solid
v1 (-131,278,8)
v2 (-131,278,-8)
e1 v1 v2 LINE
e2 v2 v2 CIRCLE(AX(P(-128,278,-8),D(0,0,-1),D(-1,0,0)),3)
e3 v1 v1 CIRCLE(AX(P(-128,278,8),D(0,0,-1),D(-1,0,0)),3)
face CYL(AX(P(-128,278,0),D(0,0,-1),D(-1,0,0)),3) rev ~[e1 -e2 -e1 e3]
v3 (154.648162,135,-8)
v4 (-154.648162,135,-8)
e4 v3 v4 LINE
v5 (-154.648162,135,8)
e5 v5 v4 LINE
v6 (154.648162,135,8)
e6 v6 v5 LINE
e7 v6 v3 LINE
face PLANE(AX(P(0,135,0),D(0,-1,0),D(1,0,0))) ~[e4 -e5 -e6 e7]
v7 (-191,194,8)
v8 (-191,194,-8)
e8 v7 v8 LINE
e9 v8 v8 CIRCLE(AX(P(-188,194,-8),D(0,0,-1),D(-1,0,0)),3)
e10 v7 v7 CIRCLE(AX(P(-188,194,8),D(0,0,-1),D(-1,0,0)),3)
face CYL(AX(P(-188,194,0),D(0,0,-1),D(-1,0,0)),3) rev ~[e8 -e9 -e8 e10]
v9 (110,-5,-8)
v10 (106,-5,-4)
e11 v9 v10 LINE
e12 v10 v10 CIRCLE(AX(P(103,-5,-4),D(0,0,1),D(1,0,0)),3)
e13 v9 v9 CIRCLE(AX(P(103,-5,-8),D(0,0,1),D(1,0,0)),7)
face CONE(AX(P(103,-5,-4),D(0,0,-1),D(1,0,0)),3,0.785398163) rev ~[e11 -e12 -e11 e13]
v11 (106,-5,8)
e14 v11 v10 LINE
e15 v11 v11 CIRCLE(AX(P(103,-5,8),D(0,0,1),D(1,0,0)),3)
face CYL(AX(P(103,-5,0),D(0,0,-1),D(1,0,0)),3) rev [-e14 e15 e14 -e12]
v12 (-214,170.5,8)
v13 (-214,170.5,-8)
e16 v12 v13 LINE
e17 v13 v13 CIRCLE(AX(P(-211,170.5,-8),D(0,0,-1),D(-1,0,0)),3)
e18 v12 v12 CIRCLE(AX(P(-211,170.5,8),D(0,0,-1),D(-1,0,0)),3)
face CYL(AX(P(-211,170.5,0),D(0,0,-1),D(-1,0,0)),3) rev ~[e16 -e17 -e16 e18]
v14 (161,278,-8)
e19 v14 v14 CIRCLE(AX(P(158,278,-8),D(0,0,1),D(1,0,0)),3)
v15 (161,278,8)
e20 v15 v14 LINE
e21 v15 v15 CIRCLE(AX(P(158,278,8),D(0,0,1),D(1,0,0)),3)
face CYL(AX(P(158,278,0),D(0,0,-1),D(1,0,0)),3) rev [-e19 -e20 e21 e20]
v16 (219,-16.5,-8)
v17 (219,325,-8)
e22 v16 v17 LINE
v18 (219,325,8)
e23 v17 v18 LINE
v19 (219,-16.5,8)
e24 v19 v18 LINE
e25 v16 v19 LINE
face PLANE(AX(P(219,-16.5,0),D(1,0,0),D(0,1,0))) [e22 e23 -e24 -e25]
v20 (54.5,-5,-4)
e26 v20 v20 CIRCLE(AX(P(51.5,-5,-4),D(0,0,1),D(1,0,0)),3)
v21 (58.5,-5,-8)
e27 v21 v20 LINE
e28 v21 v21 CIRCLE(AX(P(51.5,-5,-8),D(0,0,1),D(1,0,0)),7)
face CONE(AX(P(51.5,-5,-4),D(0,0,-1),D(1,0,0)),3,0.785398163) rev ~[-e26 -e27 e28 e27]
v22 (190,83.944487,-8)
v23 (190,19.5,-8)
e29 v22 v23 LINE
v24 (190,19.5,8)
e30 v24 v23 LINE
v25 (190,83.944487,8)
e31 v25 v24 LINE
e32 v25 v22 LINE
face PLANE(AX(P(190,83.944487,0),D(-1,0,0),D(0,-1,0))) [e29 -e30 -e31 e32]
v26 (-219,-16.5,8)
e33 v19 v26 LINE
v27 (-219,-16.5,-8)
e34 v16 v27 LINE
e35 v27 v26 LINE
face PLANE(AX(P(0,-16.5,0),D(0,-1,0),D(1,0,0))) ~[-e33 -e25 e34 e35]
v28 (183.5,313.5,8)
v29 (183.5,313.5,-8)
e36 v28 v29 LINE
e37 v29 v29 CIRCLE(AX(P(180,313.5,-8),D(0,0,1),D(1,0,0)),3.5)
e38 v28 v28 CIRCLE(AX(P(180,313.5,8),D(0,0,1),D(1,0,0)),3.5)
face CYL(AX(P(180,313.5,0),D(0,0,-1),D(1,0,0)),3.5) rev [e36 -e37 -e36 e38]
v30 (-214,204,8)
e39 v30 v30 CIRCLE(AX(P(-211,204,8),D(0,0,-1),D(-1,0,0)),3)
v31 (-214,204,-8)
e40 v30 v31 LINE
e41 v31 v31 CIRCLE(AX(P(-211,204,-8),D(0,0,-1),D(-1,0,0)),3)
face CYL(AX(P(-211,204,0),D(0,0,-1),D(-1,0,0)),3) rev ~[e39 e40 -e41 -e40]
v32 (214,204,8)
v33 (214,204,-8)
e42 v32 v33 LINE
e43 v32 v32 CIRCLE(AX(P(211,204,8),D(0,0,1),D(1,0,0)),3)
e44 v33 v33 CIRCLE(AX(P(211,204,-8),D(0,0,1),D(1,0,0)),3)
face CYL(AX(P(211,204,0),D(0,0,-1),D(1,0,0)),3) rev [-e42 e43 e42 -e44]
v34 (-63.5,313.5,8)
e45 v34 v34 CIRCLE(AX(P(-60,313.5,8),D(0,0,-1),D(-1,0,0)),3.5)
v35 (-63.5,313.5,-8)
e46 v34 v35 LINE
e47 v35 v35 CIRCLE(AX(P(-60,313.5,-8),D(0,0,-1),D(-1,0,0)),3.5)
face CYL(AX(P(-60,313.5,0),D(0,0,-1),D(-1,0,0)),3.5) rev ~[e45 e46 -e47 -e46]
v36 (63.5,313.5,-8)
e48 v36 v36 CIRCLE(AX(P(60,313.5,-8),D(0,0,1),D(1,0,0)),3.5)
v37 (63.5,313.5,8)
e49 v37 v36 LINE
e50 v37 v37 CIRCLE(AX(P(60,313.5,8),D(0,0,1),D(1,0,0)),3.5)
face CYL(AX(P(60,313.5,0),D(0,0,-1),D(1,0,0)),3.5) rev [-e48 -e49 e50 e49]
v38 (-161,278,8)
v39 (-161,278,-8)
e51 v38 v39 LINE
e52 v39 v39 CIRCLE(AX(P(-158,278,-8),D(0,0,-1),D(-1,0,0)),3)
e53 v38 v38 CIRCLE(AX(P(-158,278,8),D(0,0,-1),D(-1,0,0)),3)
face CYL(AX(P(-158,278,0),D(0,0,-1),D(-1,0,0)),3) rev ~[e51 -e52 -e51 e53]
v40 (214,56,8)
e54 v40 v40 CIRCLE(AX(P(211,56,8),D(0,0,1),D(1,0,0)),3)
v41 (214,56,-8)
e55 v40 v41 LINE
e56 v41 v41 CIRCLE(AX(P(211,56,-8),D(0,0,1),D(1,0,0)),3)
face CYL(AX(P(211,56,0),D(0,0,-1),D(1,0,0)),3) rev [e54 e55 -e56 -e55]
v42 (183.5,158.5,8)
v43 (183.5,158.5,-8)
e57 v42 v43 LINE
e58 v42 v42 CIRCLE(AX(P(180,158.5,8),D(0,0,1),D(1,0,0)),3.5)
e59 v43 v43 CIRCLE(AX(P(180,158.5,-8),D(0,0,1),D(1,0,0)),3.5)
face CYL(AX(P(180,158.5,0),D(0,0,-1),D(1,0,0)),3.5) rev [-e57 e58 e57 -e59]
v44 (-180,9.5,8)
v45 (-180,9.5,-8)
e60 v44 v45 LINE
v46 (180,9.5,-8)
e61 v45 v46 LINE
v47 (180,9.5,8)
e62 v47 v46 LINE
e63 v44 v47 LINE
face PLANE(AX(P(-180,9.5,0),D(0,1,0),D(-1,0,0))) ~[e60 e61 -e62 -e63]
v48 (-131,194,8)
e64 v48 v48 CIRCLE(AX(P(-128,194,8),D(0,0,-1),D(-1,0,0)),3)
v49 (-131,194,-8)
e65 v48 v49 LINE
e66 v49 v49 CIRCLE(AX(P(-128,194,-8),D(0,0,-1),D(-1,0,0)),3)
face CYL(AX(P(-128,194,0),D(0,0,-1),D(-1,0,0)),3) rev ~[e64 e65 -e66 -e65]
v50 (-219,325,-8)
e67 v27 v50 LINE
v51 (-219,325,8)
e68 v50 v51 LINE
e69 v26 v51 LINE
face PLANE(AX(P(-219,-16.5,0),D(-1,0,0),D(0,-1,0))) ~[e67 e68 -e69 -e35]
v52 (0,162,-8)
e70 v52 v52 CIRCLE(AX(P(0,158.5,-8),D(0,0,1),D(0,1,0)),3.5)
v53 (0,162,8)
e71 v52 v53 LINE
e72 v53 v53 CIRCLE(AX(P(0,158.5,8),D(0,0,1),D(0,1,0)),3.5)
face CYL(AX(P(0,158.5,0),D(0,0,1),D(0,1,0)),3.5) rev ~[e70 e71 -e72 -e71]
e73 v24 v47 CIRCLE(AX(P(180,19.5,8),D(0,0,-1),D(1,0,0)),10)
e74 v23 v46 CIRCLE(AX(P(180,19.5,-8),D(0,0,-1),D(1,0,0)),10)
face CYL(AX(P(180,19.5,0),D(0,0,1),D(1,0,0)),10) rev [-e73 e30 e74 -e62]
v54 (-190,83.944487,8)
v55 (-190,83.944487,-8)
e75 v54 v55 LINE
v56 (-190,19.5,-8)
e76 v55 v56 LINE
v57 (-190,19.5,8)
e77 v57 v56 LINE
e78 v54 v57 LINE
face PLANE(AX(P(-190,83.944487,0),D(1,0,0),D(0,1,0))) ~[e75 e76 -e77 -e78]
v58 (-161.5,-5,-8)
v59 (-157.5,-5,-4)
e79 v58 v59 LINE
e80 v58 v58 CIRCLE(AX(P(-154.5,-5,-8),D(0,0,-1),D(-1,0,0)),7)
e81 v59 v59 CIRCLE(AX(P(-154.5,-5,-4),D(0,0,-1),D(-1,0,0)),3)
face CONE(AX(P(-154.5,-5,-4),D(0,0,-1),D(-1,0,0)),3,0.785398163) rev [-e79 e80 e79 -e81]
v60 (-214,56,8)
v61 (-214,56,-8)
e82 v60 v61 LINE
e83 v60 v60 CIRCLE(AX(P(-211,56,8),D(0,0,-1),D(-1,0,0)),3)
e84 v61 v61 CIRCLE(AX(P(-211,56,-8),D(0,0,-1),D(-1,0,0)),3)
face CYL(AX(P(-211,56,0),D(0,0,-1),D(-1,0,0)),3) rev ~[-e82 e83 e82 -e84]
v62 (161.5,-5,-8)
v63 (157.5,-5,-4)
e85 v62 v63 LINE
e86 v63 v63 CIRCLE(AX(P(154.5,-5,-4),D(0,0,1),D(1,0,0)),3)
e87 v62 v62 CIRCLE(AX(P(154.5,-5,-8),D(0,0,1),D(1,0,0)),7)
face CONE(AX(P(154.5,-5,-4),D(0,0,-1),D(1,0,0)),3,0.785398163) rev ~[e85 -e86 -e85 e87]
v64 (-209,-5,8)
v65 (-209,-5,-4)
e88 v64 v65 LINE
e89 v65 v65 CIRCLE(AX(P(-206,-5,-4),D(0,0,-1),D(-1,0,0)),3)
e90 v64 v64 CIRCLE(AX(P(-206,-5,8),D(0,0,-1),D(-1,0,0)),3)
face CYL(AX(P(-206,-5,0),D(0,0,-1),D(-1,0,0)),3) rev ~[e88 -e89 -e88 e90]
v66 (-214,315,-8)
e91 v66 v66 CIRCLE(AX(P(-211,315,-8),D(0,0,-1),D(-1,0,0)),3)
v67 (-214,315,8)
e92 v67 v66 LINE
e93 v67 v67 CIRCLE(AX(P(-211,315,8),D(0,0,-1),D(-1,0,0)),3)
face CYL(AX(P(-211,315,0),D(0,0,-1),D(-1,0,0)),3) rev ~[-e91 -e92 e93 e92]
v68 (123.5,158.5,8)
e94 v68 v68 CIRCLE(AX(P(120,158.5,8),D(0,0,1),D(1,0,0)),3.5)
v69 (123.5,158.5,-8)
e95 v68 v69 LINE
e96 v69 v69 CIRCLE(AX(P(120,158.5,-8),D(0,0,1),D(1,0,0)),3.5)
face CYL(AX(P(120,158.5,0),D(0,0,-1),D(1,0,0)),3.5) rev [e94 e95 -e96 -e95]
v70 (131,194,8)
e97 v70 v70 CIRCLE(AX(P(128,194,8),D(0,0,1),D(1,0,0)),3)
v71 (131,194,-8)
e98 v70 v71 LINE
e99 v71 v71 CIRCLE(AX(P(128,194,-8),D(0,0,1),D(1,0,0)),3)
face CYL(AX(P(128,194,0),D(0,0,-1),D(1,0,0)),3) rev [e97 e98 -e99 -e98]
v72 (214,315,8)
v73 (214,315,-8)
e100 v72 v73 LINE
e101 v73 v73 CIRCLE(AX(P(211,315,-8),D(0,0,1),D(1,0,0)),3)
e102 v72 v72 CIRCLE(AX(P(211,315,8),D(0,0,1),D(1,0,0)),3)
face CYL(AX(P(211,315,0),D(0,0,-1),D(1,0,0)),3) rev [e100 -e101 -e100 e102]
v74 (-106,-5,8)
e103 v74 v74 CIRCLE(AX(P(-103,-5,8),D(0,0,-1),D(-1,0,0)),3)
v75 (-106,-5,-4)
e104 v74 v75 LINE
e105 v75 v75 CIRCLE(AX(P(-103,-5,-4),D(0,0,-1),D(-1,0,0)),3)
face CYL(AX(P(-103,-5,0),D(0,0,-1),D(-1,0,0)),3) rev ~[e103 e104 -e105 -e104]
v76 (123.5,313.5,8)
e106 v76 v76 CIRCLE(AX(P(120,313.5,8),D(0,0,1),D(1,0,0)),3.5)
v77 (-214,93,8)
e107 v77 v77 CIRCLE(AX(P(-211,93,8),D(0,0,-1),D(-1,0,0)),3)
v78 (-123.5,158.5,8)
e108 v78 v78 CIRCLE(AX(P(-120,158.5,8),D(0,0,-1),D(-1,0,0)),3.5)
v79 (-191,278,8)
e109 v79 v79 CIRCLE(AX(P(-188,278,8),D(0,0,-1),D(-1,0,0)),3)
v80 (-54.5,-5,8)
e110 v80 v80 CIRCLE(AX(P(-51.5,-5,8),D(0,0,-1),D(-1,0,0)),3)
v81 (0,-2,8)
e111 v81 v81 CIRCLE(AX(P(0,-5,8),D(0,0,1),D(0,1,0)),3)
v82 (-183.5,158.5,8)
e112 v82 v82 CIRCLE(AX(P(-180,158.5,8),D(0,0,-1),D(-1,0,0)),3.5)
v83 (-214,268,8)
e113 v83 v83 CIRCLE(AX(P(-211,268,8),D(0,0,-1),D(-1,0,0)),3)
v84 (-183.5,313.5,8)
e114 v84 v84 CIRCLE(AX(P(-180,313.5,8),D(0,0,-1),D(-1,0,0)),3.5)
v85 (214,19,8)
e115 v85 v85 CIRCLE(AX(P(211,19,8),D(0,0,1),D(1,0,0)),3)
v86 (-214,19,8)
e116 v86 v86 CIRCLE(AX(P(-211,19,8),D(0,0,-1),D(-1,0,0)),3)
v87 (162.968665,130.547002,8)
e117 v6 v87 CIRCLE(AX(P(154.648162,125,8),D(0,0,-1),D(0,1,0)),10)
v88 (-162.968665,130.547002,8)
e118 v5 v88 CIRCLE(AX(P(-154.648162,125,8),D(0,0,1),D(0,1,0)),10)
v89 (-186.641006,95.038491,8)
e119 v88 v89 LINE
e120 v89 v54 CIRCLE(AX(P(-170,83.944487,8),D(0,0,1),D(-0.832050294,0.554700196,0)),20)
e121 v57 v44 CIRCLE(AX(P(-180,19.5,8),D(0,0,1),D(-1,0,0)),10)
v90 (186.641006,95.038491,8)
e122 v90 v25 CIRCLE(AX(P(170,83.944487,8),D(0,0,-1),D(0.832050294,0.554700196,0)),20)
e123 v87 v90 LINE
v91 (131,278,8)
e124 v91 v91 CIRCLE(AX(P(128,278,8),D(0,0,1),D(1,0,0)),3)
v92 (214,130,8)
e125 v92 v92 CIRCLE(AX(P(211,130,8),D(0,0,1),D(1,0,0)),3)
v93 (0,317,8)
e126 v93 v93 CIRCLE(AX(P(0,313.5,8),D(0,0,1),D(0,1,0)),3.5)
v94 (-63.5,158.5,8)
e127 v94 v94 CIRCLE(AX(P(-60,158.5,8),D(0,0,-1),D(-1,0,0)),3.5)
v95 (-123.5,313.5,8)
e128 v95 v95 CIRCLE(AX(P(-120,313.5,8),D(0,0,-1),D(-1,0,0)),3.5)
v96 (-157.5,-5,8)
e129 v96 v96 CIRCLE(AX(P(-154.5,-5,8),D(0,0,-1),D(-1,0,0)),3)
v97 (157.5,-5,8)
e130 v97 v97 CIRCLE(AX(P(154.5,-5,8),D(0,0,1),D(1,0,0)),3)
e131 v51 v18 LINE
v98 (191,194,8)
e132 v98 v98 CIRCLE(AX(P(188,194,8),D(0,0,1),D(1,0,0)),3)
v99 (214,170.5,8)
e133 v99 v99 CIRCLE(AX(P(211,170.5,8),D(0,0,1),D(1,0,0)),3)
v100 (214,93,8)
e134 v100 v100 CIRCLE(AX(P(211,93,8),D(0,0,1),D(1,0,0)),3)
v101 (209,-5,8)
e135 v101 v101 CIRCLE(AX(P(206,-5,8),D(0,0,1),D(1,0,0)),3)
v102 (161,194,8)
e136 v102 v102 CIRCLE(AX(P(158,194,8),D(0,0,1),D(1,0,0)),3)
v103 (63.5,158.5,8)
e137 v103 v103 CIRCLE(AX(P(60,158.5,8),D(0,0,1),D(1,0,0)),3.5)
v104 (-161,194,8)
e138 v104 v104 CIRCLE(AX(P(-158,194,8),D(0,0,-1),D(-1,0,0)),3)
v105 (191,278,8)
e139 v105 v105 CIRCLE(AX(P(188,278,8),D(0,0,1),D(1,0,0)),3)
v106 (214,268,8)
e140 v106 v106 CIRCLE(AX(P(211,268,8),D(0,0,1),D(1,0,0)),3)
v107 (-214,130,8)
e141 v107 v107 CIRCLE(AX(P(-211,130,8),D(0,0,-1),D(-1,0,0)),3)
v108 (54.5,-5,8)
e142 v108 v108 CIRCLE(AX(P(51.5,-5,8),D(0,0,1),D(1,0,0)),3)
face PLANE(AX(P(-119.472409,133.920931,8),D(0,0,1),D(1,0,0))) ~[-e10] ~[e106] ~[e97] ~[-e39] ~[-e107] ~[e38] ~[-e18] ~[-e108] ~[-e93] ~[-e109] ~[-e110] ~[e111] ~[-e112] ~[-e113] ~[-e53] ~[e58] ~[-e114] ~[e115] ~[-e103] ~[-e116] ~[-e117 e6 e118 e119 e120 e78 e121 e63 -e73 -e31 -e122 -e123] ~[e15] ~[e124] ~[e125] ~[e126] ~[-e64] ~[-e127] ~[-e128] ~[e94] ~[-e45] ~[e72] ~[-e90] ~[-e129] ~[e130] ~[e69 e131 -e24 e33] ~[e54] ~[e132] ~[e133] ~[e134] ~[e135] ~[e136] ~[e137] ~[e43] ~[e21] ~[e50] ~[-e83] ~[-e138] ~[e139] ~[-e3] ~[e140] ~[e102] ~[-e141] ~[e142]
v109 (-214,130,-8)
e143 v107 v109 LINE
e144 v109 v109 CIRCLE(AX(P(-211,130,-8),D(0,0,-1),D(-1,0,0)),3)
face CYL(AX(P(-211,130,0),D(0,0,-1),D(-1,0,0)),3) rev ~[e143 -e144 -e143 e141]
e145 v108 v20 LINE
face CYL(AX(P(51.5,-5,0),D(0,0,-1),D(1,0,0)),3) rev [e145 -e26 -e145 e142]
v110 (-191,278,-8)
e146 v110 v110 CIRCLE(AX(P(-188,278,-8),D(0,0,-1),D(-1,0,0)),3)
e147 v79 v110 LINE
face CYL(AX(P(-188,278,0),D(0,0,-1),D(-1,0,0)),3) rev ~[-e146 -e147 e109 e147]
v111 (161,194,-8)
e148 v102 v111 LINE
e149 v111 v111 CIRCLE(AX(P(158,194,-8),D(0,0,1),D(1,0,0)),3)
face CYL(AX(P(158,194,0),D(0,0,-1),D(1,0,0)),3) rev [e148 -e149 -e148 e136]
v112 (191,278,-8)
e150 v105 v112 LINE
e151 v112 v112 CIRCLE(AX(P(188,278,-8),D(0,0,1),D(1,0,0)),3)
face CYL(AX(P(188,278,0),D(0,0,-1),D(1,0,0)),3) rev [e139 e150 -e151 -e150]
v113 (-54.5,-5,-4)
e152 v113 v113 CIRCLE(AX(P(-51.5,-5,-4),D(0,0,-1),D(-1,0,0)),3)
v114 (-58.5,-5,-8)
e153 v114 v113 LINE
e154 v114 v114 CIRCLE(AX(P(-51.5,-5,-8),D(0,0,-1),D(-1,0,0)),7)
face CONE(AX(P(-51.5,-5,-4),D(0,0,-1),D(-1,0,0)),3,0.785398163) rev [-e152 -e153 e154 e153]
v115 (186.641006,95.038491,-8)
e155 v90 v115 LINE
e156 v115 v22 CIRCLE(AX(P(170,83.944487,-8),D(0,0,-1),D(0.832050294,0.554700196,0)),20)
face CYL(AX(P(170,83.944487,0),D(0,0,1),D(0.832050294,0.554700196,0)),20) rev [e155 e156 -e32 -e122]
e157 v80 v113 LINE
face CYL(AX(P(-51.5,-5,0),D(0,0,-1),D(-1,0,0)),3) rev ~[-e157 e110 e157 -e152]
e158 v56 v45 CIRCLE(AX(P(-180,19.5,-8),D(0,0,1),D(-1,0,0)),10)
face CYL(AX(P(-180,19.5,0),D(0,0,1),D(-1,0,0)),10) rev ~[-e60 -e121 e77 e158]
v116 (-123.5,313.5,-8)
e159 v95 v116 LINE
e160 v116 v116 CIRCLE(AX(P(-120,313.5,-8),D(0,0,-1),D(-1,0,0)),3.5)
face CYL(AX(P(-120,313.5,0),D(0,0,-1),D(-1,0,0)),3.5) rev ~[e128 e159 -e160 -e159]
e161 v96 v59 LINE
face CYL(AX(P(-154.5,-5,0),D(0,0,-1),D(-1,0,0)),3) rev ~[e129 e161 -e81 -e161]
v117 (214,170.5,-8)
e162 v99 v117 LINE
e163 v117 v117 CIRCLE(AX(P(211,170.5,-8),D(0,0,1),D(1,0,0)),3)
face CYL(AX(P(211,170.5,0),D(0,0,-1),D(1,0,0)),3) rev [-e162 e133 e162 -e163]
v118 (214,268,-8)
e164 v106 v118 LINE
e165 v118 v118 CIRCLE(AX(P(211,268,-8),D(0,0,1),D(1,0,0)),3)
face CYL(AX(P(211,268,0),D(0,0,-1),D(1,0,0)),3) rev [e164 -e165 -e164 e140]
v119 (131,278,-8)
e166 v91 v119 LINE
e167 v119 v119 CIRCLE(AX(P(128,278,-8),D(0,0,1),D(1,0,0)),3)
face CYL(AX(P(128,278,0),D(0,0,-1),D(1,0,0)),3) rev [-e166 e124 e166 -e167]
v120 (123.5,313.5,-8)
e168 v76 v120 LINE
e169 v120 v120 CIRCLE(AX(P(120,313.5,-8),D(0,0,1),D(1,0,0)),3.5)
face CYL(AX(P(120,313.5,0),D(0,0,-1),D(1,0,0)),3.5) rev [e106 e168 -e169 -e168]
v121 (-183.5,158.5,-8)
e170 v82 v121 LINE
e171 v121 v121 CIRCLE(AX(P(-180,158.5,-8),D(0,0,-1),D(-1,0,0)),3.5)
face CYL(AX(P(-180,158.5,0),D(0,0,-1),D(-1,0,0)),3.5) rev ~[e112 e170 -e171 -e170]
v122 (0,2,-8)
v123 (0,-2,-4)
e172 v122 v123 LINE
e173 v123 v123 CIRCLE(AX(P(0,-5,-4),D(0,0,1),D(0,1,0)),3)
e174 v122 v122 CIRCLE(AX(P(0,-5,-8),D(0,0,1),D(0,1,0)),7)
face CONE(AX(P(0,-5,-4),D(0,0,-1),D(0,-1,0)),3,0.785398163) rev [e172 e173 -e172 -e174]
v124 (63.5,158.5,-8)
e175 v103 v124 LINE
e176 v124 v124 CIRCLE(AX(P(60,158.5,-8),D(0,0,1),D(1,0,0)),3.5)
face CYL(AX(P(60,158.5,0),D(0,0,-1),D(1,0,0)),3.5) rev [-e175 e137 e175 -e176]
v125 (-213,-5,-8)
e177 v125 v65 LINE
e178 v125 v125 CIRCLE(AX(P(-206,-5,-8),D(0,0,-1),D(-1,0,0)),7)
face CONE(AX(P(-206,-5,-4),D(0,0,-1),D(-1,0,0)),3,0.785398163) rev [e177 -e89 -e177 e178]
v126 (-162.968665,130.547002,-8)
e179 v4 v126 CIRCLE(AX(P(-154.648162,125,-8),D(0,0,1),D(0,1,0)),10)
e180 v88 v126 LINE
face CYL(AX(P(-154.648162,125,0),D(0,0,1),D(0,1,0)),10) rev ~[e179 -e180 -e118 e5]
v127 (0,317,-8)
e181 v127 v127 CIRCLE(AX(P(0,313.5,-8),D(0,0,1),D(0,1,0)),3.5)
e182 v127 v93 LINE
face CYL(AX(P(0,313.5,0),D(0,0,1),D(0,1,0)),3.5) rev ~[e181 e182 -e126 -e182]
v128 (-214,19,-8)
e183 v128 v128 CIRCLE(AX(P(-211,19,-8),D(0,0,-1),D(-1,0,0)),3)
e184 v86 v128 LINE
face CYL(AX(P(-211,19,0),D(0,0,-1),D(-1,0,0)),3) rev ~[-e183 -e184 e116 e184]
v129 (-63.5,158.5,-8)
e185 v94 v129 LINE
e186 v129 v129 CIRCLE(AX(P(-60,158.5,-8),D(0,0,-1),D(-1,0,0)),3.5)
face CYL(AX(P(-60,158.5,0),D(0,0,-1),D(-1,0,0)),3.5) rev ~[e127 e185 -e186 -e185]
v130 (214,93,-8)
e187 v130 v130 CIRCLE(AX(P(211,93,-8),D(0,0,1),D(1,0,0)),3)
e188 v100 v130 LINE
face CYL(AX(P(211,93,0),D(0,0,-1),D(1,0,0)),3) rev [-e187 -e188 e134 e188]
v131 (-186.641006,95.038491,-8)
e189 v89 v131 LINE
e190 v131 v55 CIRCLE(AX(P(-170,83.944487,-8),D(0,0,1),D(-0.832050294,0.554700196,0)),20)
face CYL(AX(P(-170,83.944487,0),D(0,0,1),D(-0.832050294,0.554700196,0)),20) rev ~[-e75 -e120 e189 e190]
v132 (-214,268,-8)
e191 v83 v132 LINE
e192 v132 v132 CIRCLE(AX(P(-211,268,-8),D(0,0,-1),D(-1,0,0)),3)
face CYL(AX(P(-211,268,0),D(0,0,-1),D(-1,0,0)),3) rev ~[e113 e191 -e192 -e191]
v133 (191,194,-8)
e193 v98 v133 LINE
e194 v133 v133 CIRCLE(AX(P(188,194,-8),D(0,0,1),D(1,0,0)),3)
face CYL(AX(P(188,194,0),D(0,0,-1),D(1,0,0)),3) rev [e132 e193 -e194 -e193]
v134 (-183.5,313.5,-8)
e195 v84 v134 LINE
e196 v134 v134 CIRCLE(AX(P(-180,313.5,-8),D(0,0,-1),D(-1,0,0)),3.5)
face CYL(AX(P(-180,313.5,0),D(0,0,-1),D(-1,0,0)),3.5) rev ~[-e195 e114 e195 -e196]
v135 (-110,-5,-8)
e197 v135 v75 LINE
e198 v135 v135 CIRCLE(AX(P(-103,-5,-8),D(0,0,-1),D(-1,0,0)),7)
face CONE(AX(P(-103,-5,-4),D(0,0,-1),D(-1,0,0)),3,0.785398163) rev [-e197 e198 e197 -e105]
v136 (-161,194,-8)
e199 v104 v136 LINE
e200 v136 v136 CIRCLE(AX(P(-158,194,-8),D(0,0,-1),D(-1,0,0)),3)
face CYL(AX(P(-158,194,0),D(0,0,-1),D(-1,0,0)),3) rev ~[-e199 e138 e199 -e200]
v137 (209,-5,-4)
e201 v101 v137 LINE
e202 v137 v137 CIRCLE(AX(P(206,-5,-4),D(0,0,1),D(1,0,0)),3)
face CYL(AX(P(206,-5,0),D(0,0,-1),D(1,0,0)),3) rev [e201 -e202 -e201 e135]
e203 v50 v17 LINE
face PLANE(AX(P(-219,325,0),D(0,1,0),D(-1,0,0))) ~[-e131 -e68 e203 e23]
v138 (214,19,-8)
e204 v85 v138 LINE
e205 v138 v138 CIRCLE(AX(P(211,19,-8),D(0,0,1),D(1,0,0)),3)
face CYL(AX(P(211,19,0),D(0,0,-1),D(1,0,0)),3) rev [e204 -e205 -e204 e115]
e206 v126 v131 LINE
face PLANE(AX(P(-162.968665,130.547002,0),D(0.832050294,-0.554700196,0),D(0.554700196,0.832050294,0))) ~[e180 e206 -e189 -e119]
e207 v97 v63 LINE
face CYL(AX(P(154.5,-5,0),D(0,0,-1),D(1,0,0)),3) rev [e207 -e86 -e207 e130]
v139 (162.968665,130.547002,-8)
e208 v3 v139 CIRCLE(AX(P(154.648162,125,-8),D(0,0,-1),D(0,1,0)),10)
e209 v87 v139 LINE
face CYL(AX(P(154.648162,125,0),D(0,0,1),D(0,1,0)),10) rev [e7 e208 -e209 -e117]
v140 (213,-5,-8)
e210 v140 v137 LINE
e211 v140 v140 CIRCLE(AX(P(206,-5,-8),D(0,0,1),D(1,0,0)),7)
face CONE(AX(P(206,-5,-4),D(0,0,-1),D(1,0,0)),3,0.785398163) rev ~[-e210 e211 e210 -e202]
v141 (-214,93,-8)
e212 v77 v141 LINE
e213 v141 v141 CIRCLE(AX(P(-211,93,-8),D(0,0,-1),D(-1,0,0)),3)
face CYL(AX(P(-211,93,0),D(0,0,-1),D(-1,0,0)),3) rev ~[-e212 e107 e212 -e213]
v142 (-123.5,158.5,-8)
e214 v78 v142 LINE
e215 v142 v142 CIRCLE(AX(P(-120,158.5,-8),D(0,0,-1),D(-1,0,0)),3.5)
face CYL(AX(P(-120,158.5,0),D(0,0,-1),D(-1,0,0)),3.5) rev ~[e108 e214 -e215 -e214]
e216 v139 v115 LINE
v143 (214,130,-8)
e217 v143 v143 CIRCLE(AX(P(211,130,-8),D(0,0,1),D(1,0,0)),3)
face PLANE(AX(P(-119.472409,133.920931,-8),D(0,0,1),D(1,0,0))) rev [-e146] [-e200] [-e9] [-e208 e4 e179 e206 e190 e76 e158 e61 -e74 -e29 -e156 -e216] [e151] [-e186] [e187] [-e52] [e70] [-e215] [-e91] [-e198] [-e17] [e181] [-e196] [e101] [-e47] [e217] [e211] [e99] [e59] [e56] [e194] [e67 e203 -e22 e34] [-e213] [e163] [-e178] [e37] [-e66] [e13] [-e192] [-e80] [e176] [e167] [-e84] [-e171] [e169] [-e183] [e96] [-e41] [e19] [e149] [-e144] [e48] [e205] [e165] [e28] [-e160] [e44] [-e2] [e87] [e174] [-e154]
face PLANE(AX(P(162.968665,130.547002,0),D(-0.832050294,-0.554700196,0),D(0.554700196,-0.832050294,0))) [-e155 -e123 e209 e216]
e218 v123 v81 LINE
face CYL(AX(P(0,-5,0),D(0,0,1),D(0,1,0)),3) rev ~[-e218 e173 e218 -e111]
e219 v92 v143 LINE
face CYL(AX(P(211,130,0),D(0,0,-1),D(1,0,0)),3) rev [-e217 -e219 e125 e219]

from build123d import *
from build123d.topology import SkipClean

# Parameters (mm, degrees)
ESQUISSE1_R        = 3
ESQUISSE1_R_2      = 3.5
BOSS_EXTRU_1_DEPTH = 8
CHANFREIN1_SIZE    = 4


with BuildPart() as part:
    # Esquisse1 → Boss.-Extru.1 (new body, symmetric)
    with BuildSketch(Plane.XY):
        with BuildLine():
            Line((0, 9.5), (0, -2))
            ThreePointArc((0, -2), (3, -5), (0, -8))
            Line((0, -8), (0, -16.5))
            Line((0, -16.5), (219, -16.5))
            Line((219, -16.5), (219, 325))
            Line((219, 325), (0, 325))
            Line((0, 325), (0, 317))
            ThreePointArc((0, 317), (3.5, 313.5), (0, 310))
            Line((0, 310), (0, 162))
            ThreePointArc((0, 162), (3.5, 158.5), (0, 155))
            Line((0, 155), (0, 135))
            Line((0, 135), (154.64816242, 135))
            ThreePointArc((154.64816242, 135), (159.366741675, 133.816745988), (162.968665363, 130.547001962))
            Line((162.968665363, 130.547001962), (186.641005887, 95.03849117))
            ThreePointArc((186.641005887, 95.03849117), (189.14184053, 89.740170219), (190, 83.944487245))
            Line((190, 83.944487245), (190, 19.5))
            ThreePointArc((190, 19.5), (187.071067812, 12.428932188), (180, 9.5))
            Line((180, 9.5), (0, 9.5))
        make_face()
        with Locations((188, 278)):
            Circle(ESQUISSE1_R, mode=Mode.SUBTRACT)
        with Locations((158, 278)):
            Circle(ESQUISSE1_R, mode=Mode.SUBTRACT)
        with Locations((128, 278)):
            Circle(ESQUISSE1_R, mode=Mode.SUBTRACT)
        with Locations((51.5, -5)):
            Circle(ESQUISSE1_R, mode=Mode.SUBTRACT)
        with Locations((103, -5)):
            Circle(ESQUISSE1_R, mode=Mode.SUBTRACT)
        with Locations((154.5, -5)):
            Circle(ESQUISSE1_R, mode=Mode.SUBTRACT)
        with Locations((206, -5)):
            Circle(ESQUISSE1_R, mode=Mode.SUBTRACT)
        with Locations((128, 194)):
            Circle(ESQUISSE1_R, mode=Mode.SUBTRACT)
        with Locations((158, 194)):
            Circle(ESQUISSE1_R, mode=Mode.SUBTRACT)
        with Locations((188, 194)):
            Circle(ESQUISSE1_R, mode=Mode.SUBTRACT)
        with Locations((211, 268)):
            Circle(ESQUISSE1_R, mode=Mode.SUBTRACT)
        with Locations((211, 130)):
            Circle(ESQUISSE1_R, mode=Mode.SUBTRACT)
        with Locations((211, 93)):
            Circle(ESQUISSE1_R, mode=Mode.SUBTRACT)
        with Locations((211, 170.5)):
            Circle(ESQUISSE1_R, mode=Mode.SUBTRACT)
        with Locations((211, 315)):
            Circle(ESQUISSE1_R, mode=Mode.SUBTRACT)
        with Locations((211, 56)):
            Circle(ESQUISSE1_R, mode=Mode.SUBTRACT)
        with Locations((211, 19)):
            Circle(ESQUISSE1_R, mode=Mode.SUBTRACT)
        with Locations((211, 204)):
            Circle(ESQUISSE1_R, mode=Mode.SUBTRACT)
        with Locations((60, 158.5)):
            Circle(ESQUISSE1_R_2, mode=Mode.SUBTRACT)
        with Locations((120, 158.5)):
            Circle(ESQUISSE1_R_2, mode=Mode.SUBTRACT)
        with Locations((180, 158.5)):
            Circle(ESQUISSE1_R_2, mode=Mode.SUBTRACT)
        with Locations((180, 313.5)):
            Circle(ESQUISSE1_R_2, mode=Mode.SUBTRACT)
        with Locations((60, 313.5)):
            Circle(ESQUISSE1_R_2, mode=Mode.SUBTRACT)
        with Locations((120, 313.5)):
            Circle(ESQUISSE1_R_2, mode=Mode.SUBTRACT)
    boss_extru_1 = extrude(amount=BOSS_EXTRU_1_DEPTH, both=True)

    # Sym_trie1: Boss.-Extru.1 across plane
    with SkipClean():  # keep this step's faces unmerged: merging them makes the solid invalid here
        add(boss_extru_1.mirror(Plane(origin=(0, 0, 0), x_dir=(0, 0, 1), z_dir=(1, 0, 0))))

    # Chanfrein1
    chanfrein1_edges = [part.edges().sort_by_distance(p)[0] for p in [
        (-48.5, -5, -8),
        (-100, -5, -8),
        (-151.5, -5, -8),
        (-203, -5, -8),
        (3, -5, -8),
        (48.5, -5, -8),
        (100, -5, -8),
        (151.5, -5, -8),
        (203, -5, -8),
    ]]
    chamfer(chanfrein1_edges, length=CHANFREIN1_SIZE)


solid = part.part
